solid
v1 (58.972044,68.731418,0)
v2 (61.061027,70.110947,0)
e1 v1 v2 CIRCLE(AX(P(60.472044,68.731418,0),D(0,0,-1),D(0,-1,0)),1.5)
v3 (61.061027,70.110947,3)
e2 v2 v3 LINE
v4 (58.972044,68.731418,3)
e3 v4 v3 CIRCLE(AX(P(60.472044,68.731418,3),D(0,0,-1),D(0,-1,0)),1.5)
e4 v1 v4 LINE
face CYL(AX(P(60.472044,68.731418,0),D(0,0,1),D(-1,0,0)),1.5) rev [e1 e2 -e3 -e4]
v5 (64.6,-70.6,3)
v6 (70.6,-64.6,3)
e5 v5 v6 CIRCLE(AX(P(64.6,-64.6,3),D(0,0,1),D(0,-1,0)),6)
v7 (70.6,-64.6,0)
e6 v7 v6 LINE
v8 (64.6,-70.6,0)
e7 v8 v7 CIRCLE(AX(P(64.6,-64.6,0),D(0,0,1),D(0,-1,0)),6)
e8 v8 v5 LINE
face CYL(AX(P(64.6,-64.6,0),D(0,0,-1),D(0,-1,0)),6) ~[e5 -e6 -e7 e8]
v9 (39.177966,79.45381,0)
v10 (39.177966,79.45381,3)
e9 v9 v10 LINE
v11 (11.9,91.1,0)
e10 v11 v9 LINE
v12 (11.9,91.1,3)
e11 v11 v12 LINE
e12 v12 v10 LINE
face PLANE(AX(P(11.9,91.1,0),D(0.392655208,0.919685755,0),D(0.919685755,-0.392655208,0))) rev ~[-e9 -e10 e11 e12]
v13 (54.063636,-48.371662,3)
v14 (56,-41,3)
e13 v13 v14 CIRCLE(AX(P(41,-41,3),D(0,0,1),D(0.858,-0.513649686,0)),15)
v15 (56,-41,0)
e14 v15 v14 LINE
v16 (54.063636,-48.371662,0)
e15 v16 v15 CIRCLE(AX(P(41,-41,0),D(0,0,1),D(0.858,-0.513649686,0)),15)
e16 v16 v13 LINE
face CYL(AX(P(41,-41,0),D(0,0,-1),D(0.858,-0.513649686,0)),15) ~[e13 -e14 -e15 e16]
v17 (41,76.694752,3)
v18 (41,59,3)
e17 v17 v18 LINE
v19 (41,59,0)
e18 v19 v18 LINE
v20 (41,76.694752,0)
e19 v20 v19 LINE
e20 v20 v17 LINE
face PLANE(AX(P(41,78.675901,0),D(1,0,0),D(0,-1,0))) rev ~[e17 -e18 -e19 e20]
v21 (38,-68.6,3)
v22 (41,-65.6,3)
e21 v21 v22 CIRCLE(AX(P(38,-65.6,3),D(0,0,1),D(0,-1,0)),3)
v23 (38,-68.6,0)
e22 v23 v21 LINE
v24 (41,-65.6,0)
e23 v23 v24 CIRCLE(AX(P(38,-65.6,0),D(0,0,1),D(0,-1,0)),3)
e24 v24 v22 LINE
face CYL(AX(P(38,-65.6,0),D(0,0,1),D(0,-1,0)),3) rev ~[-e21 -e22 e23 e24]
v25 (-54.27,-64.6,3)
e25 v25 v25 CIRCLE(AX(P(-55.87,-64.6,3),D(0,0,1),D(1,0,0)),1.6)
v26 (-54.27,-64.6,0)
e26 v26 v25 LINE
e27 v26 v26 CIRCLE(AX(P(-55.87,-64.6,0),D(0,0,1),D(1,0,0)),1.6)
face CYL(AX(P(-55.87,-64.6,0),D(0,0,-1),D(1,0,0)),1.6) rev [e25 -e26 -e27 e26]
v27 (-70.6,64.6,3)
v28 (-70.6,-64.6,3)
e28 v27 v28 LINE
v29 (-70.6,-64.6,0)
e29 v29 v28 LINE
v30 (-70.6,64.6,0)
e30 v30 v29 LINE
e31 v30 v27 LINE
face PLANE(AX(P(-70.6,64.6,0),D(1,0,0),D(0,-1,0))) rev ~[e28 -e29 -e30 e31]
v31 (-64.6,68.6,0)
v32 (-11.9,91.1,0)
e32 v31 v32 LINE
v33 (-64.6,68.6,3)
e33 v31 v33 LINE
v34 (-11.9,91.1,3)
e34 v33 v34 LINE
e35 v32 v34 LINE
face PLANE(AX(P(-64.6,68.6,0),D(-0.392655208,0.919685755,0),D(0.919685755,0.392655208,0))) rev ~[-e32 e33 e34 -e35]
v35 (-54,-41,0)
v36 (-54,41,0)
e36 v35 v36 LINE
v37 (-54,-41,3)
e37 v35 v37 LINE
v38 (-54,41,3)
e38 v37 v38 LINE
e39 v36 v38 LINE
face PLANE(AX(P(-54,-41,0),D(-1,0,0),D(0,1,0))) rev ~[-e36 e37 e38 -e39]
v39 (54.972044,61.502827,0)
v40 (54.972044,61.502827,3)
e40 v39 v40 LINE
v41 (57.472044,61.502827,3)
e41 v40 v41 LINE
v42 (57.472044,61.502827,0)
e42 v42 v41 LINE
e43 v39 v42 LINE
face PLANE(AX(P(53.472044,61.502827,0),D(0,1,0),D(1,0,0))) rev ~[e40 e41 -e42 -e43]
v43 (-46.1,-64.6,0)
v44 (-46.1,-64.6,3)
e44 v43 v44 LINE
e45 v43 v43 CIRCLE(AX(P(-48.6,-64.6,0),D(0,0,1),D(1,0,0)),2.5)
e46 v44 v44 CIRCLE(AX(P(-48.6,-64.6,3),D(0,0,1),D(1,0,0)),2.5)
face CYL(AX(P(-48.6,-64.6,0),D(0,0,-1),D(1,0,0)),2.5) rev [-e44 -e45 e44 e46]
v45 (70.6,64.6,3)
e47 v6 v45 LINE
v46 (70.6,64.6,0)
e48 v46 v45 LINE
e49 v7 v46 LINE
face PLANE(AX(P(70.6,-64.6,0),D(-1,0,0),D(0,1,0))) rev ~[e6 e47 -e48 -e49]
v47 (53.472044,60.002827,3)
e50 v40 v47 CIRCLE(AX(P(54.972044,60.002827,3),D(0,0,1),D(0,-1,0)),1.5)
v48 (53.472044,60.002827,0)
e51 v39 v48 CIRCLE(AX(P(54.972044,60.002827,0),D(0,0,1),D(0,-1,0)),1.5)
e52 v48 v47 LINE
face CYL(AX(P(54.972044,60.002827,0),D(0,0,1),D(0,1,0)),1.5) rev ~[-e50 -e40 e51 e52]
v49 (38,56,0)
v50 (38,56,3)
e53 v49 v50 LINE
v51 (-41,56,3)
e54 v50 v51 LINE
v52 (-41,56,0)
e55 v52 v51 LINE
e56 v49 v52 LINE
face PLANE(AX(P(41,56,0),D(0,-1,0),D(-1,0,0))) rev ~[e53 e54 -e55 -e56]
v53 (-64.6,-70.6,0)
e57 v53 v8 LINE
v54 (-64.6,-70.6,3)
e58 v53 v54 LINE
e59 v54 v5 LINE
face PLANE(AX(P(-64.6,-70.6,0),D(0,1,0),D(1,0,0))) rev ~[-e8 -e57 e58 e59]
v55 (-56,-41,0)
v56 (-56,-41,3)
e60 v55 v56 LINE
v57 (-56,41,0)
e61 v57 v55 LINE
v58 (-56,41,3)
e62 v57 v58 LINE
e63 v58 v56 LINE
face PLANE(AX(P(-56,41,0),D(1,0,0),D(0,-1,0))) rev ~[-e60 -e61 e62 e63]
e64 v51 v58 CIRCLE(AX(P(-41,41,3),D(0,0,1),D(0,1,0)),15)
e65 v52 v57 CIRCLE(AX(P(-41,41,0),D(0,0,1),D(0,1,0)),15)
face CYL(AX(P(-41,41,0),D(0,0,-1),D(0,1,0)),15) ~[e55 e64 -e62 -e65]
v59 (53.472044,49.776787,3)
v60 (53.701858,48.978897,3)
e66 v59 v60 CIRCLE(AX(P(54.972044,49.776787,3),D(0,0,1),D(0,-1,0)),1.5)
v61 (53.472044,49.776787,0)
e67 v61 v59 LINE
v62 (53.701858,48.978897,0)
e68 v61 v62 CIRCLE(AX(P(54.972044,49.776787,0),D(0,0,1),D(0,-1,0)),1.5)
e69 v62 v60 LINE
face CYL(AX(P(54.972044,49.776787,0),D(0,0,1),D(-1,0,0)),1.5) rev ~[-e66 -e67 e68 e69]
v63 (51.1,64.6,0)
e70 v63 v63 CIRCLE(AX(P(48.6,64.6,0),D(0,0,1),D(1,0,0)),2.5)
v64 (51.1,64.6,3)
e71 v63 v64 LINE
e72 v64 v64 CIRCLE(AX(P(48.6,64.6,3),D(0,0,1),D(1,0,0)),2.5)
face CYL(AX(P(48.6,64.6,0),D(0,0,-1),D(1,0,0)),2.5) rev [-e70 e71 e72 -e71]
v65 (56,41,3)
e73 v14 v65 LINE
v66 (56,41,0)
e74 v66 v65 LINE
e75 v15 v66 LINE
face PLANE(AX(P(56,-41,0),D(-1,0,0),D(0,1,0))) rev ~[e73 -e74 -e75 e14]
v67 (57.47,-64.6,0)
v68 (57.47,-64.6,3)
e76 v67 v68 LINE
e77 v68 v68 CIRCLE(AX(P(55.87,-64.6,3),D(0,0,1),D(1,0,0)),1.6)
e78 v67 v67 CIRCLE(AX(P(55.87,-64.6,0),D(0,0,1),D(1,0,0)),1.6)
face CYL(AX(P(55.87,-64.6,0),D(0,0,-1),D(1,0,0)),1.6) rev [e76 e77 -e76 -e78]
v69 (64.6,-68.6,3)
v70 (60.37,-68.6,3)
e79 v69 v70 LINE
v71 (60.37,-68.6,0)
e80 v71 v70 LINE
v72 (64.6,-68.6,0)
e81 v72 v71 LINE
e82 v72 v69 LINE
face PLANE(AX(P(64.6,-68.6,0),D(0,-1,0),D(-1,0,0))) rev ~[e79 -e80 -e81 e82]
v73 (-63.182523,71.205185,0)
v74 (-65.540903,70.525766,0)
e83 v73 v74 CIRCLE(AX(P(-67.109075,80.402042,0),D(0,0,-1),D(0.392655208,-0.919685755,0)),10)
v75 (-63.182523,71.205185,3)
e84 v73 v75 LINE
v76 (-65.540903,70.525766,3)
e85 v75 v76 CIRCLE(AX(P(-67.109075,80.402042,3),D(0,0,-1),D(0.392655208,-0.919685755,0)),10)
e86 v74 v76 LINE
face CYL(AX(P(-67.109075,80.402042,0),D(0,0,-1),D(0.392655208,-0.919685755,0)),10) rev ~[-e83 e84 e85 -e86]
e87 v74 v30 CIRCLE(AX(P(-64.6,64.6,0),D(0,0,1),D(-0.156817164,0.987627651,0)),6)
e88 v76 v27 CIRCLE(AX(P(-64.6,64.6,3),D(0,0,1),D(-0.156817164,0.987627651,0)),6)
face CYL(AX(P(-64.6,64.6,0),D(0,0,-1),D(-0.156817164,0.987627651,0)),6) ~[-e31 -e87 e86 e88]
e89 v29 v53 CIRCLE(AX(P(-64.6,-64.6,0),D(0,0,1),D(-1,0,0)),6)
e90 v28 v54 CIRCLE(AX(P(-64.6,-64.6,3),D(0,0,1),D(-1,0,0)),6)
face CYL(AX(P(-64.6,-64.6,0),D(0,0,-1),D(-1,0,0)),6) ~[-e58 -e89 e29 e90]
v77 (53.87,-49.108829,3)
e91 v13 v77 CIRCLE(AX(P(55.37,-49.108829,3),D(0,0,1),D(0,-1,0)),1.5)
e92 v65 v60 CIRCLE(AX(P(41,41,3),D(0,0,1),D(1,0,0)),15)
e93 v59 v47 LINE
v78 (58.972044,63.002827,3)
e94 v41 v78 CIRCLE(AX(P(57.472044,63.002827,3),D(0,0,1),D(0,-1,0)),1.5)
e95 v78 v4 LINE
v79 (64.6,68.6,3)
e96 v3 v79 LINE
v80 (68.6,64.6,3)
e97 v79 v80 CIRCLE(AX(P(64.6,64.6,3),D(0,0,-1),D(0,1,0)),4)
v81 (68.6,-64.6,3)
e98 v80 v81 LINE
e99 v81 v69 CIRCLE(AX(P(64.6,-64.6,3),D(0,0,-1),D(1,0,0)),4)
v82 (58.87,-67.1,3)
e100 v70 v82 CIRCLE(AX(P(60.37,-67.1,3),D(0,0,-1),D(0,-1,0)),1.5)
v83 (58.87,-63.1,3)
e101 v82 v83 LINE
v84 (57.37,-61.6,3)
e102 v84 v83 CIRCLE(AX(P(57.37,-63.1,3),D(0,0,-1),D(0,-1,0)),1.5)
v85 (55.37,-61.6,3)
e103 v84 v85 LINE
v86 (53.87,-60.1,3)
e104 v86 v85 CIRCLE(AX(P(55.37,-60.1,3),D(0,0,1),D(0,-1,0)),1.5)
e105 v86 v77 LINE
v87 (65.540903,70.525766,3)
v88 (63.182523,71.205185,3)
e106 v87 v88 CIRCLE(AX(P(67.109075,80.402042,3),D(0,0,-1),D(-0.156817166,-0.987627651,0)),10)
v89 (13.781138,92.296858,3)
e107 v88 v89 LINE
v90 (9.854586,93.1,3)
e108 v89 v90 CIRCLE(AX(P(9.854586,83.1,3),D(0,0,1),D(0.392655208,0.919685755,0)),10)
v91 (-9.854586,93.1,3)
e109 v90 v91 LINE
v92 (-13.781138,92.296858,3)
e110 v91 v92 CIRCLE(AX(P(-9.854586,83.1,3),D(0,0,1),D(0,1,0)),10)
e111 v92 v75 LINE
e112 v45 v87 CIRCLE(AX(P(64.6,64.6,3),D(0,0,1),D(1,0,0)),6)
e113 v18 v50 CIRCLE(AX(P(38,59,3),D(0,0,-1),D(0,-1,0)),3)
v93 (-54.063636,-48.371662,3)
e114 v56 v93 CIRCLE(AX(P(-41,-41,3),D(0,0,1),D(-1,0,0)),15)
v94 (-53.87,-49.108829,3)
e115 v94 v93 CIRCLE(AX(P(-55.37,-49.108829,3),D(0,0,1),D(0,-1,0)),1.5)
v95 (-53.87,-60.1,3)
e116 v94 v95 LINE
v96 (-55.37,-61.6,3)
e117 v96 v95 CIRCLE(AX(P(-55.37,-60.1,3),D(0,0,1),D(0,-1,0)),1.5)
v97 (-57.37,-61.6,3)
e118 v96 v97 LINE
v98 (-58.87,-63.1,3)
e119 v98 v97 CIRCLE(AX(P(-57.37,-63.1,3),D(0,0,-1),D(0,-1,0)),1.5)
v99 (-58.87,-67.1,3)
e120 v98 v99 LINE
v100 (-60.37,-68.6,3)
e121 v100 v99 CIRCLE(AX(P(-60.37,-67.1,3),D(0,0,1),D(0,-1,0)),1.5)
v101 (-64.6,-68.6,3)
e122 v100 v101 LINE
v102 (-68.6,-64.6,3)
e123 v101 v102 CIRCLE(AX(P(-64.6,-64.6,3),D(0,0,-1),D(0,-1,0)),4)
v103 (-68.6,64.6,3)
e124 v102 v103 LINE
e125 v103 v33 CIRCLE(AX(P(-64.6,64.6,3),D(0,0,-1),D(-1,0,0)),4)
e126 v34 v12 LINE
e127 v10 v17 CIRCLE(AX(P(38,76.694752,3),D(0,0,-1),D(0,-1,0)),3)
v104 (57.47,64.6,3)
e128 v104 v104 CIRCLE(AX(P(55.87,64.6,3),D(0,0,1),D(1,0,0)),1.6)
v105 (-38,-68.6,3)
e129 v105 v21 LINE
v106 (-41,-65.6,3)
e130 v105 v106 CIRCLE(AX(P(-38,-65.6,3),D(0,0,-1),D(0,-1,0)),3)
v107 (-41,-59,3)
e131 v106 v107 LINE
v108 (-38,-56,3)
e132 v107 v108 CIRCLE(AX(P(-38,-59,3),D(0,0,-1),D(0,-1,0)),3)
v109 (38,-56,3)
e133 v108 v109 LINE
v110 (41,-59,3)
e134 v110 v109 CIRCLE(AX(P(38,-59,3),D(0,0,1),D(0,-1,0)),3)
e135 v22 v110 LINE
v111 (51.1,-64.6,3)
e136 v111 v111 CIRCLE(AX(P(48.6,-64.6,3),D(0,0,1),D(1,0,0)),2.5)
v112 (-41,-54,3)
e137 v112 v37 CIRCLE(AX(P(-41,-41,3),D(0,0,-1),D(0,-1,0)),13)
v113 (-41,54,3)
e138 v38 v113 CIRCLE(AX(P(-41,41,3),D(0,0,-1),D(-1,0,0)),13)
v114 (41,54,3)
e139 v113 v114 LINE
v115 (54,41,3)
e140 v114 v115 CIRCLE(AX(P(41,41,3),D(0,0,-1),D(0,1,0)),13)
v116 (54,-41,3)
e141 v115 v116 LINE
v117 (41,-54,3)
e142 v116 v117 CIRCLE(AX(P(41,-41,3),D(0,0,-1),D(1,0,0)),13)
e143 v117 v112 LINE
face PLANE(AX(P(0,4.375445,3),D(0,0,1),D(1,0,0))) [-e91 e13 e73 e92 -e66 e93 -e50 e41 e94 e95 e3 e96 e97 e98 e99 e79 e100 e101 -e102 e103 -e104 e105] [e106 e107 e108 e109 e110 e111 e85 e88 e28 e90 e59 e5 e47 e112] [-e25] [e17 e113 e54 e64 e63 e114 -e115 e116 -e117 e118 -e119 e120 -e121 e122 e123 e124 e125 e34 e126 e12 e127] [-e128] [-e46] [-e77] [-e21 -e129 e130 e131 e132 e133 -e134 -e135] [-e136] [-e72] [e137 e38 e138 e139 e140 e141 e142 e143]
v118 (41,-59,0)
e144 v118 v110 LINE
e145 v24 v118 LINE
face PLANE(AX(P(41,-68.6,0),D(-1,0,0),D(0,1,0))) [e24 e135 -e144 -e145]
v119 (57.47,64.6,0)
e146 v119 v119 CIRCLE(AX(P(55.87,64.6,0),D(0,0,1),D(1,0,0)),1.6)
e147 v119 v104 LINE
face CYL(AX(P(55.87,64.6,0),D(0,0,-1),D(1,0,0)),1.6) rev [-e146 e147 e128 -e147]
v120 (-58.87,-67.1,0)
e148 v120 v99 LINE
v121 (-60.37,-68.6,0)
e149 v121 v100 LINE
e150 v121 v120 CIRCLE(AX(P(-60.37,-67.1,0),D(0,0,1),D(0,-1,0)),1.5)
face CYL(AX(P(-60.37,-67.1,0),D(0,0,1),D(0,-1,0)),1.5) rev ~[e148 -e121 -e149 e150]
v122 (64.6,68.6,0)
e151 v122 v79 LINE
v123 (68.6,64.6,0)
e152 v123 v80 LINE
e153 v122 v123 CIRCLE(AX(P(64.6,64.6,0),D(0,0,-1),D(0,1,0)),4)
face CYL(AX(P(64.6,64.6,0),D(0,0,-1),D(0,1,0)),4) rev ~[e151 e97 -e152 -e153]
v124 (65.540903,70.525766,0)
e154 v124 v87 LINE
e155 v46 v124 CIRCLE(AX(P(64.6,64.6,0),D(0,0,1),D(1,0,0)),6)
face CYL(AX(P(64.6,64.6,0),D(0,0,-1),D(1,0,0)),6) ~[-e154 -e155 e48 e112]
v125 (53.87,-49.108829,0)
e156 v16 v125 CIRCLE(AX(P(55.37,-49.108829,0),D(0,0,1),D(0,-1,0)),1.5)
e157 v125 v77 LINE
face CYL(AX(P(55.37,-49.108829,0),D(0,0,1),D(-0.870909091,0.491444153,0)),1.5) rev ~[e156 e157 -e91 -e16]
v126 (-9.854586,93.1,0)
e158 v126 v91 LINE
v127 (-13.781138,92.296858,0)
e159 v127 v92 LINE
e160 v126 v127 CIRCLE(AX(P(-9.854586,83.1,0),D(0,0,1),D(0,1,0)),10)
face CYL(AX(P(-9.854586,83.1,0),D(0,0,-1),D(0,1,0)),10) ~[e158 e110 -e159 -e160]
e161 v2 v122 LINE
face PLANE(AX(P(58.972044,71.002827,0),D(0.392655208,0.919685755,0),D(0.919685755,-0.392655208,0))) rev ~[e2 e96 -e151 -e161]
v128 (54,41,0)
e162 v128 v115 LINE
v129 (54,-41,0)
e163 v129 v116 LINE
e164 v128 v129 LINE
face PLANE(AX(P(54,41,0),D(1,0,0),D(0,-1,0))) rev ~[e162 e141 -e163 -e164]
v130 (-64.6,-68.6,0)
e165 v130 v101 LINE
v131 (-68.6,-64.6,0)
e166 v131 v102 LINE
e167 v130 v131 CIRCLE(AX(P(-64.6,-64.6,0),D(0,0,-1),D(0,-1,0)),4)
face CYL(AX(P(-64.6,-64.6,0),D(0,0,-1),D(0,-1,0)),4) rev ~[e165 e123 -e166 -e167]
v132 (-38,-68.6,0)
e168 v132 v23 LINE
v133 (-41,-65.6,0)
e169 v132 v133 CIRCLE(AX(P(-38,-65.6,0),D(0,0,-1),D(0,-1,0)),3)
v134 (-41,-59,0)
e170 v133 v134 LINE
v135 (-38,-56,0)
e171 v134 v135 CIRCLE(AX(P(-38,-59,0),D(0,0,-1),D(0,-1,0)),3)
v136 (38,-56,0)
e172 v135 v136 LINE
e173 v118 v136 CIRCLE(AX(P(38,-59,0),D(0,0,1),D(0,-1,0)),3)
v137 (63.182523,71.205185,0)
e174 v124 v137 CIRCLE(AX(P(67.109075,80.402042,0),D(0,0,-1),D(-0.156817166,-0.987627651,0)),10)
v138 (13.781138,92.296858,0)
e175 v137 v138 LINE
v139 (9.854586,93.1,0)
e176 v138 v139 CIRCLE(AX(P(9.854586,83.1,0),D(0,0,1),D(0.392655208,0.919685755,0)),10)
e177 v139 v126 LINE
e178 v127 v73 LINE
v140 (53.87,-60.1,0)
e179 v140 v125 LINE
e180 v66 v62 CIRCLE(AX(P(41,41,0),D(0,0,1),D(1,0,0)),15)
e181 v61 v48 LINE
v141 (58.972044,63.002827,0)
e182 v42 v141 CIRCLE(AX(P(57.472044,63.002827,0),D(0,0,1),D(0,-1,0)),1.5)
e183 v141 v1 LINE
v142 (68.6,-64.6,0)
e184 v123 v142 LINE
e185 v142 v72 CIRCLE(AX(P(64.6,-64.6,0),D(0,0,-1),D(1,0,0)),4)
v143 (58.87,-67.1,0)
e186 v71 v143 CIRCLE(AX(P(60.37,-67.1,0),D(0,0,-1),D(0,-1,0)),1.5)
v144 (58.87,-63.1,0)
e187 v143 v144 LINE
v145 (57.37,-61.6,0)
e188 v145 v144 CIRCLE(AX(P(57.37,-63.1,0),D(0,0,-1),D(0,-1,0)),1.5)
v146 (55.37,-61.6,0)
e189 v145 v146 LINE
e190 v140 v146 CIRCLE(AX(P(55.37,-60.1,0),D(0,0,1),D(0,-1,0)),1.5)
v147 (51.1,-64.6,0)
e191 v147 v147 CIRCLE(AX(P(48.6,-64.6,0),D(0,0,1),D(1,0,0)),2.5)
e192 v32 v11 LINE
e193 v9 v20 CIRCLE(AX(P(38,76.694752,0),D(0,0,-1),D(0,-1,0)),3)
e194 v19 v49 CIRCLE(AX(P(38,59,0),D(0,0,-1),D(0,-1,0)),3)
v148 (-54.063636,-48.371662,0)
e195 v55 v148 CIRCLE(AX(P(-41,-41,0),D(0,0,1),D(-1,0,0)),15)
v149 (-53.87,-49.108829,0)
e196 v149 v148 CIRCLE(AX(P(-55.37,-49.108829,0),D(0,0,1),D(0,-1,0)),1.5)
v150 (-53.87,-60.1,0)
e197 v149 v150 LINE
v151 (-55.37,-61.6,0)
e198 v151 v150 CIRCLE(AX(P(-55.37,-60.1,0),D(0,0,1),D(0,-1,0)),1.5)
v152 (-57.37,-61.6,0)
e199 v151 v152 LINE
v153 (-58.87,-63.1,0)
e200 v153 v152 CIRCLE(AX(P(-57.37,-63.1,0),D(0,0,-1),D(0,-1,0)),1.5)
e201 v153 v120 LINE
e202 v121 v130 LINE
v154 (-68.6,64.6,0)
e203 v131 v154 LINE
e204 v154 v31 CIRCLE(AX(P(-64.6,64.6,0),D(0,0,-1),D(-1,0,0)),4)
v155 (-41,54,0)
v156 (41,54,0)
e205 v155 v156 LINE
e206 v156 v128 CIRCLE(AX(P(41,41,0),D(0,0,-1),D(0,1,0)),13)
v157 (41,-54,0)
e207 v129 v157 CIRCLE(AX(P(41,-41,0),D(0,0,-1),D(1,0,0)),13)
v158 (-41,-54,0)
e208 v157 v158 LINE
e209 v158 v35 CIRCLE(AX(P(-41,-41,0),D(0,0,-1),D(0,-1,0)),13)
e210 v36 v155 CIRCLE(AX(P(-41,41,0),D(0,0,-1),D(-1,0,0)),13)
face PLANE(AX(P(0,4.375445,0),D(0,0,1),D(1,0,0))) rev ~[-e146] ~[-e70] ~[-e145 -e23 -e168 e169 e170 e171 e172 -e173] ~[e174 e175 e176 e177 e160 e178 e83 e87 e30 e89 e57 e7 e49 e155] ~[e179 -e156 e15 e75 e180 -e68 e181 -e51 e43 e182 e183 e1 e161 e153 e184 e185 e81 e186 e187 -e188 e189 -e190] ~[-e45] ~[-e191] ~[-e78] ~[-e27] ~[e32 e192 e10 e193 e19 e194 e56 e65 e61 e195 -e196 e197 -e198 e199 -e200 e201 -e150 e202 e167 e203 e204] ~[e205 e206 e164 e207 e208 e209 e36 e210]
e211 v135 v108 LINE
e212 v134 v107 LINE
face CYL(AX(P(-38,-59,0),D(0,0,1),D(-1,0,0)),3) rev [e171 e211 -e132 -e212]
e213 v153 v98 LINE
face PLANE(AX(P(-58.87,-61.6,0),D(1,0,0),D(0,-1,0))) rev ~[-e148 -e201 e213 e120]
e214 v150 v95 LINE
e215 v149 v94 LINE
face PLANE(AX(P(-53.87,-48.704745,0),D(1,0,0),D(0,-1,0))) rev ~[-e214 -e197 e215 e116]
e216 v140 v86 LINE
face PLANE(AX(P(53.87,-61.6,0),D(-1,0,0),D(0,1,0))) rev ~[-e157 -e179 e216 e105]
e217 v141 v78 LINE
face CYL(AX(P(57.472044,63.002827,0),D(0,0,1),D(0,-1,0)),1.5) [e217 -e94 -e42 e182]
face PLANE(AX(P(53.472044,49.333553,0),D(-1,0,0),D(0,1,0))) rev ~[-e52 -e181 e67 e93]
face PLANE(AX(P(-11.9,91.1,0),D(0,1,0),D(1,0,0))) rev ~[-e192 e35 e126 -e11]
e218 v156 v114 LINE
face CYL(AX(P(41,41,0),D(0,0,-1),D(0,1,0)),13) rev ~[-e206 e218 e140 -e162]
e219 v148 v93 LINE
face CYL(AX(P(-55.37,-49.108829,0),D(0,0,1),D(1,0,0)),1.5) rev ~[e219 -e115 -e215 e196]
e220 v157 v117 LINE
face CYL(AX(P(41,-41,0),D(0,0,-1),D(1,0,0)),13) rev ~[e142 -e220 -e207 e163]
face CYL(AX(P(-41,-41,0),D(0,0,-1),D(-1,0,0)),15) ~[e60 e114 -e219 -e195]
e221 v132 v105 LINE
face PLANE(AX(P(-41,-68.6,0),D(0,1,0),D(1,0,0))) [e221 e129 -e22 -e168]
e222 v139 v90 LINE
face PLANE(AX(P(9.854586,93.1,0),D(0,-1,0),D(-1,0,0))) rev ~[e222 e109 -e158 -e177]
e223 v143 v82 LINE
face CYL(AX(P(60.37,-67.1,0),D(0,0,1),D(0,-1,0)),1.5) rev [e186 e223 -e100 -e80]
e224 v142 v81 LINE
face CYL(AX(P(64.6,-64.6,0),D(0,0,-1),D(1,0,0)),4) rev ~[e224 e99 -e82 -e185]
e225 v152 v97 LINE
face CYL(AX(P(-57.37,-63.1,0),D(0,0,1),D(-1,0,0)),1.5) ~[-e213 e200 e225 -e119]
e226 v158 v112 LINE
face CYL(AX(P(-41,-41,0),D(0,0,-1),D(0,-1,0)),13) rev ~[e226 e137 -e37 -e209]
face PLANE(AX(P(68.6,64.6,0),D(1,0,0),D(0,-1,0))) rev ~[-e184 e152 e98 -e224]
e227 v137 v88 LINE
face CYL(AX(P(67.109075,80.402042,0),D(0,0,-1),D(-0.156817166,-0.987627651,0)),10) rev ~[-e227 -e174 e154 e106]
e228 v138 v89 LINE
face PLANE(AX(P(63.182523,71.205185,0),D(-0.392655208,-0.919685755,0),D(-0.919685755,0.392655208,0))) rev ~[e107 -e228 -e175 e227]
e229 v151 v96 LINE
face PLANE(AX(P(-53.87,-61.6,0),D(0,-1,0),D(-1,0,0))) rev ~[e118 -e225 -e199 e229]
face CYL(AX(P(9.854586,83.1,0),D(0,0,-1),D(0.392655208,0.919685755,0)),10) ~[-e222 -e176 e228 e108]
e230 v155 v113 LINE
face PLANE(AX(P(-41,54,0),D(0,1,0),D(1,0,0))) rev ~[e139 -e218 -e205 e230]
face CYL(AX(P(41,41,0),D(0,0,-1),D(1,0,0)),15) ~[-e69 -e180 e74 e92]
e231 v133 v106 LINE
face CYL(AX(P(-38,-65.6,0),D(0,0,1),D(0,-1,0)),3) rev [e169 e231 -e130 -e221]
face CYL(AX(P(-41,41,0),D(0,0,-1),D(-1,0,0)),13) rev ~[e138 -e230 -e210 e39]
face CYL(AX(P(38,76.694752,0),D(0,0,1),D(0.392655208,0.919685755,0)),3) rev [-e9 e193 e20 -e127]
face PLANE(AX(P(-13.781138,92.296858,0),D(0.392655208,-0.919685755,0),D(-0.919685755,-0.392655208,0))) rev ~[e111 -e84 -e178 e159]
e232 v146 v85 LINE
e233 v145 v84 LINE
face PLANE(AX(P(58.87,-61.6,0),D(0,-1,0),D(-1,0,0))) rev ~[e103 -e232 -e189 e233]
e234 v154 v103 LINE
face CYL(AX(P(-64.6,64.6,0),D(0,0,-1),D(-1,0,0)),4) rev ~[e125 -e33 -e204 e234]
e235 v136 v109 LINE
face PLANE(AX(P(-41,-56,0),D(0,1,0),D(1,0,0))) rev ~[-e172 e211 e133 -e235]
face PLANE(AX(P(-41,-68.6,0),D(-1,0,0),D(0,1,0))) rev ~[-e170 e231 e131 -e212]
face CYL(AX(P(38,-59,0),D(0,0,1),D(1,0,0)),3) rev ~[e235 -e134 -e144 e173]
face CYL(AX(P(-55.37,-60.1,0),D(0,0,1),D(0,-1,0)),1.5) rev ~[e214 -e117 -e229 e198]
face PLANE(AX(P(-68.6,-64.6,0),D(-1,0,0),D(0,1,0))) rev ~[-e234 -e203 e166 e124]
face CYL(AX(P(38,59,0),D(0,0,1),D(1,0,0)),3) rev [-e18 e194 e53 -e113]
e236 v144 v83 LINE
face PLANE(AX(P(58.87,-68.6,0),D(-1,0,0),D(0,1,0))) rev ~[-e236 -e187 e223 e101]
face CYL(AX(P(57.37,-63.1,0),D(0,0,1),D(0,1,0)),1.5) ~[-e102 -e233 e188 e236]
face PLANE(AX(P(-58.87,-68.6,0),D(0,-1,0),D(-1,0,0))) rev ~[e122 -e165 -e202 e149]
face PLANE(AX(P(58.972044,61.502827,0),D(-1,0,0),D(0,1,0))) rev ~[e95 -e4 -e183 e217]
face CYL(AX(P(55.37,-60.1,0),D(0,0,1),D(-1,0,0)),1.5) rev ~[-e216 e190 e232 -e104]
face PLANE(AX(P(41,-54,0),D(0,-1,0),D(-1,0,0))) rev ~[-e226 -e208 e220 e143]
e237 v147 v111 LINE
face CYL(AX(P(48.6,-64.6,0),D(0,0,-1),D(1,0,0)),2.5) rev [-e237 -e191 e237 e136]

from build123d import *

# Parameters (mm, degrees)
SKETCH2_R           = 1.6
SKETCH2_R_2         = 2.5
SKETCH2_W           = 82
SKETCH2_H           = 12.6
BOSS_EXTRUDE1_DEPTH = 3
FILLET2_R           = 1.5
FILLET3_R           = 3


with BuildPart() as part:
    # Sketch2 → Boss-Extrude1 (new body)
    # profile 1 of 2: a face of its own
    with BuildSketch(Plane.XY):
        with BuildLine():
            ThreePointArc((-65.540902989, 70.525765905), (-69.163190657, 68.495804286), (-70.6, 64.6))
            Line((-70.6, 64.6), (-70.6, -64.6))
            ThreePointArc((-70.6, -64.6), (-68.842640687, -68.842640687), (-64.6, -70.6))
            Line((-64.6, -70.6), (64.6, -70.6))
            ThreePointArc((64.6, -70.6), (68.842640687, -68.842640687), (70.6, -64.6))
            Line((70.6, -64.6), (70.6, 64.6))
            ThreePointArc((70.6, 64.6), (69.163190657, 68.495804286), (65.540902989, 70.525765905))
            ThreePointArc((65.540902989, 70.525765905), (64.340790015, 70.792848887), (63.182522555, 71.205184867))
            Line((63.182522555, 71.205184867), (13.781138102, 92.296857547))
            ThreePointArc((13.781138102, 92.296857547), (11.858510235, 92.897157125), (9.854586018, 93.1))
            Line((9.854586018, 93.1), (-9.854586018, 93.1))
            ThreePointArc((-9.854586018, 93.1), (-11.858510235, 92.897157125), (-13.781138102, 92.296857547))
            Line((-13.781138102, 92.296857547), (-63.182522555, 71.205184867))
            ThreePointArc((-63.182522555, 71.205184867), (-64.340790015, 70.792848887), (-65.540902989, 70.525765905))
        make_face()
        with Locations((-55.87, -64.6)):
            Circle(SKETCH2_R, mode=Mode.SUBTRACT)
        with Locations((-48.6, -64.6)):
            Circle(SKETCH2_R_2, mode=Mode.SUBTRACT)
        with BuildLine():
            Line((-11.9, 91.1), (-6, 91.1))
            Line((-6, 91.1), (6, 91.1))
            Line((6, 91.1), (11.9, 91.1))
            Line((11.9, 91.1), (41, 78.675901328))
            Line((41, 78.675901328), (41, 56))
            Line((41, 56), (-41, 56))
            ThreePointArc((-41, 56), (-51.606601718, 51.606601718), (-56, 41))
            Line((-56, 41), (-56, -41))
            ThreePointArc((-56, -41), (-55.457696912, -44.996873778), (-53.87, -48.704745291))
            Line((-53.87, -48.704745291), (-53.87, -61.6))
            Line((-53.87, -61.6), (-58.87, -61.6))
            Line((-58.87, -61.6), (-58.87, -68.6))
            Line((-58.87, -68.6), (-64.6, -68.6))
            ThreePointArc((-64.6, -68.6), (-67.428427125, -67.428427125), (-68.6, -64.6))
            Line((-68.6, -64.6), (-68.6, 64.6))
            ThreePointArc((-68.6, 64.6), (-67.428427125, 67.428427125), (-64.6, 68.6))
            Line((-64.6, 68.6), (-11.9, 91.1))
        make_face(mode=Mode.SUBTRACT)
        with Locations((0, -62.3)):
            Rectangle(SKETCH2_W, SKETCH2_H, mode=Mode.SUBTRACT)
        with Locations((48.6, -64.6)):
            Circle(SKETCH2_R_2, mode=Mode.SUBTRACT)
        with Locations((55.87, -64.6)):
            Circle(SKETCH2_R, mode=Mode.SUBTRACT)
        with BuildLine():
            Line((41, -54), (-41, -54))
            ThreePointArc((-41, -54), (-50.192388155, -50.192388155), (-54, -41))
            Line((-54, -41), (-54, 41))
            ThreePointArc((-54, 41), (-50.192388155, 50.192388155), (-41, 54))
            Line((-41, 54), (41, 54))
            ThreePointArc((41, 54), (50.192388155, 50.192388155), (54, 41))
            Line((54, 41), (54, -41))
            ThreePointArc((54, -41), (50.192388155, -50.192388155), (41, -54))
        make_face(mode=Mode.SUBTRACT)
        with BuildLine():
            Line((58.972044185, 61.502827435), (58.972044185, 71.002827435))
            Line((58.972044185, 71.002827435), (64.6, 68.6))
            ThreePointArc((64.6, 68.6), (67.428427125, 67.428427125), (68.6, 64.6))
            Line((68.6, 64.6), (68.6, -64.6))
            ThreePointArc((68.6, -64.6), (67.428427125, -67.428427125), (64.6, -68.6))
            Line((64.6, -68.6), (58.87, -68.6))
            Line((58.87, -68.6), (58.87, -61.6))
            Line((58.87, -61.6), (53.87, -61.6))
            Line((53.87, -61.6), (53.87, -48.704745291))
            ThreePointArc((53.87, -48.704745291), (55.457696912, -44.996873778), (56, -41))
            Line((56, -41), (56, 41))
            ThreePointArc((56, 41), (55.354105036, 45.354270159), (53.472044185, 49.333553495))
            Line((53.472044185, 49.333553495), (53.472044185, 61.502827435))
            Line((53.472044185, 61.502827435), (58.972044185, 61.502827435))
        make_face(mode=Mode.SUBTRACT)
        with Locations((48.6, 64.6)):
            Circle(SKETCH2_R_2, mode=Mode.SUBTRACT)
        with Locations((55.87, 64.6)):
            Circle(SKETCH2_R, mode=Mode.SUBTRACT)
    # profile 2 of 2: a face of its own
    with BuildSketch(Plane.XY):
        with BuildLine():
            ThreePointArc((-65.540902989, 70.525765905), (-69.163190657, 68.495804286), (-70.6, 64.6))
            Line((-70.6, 64.6), (-70.6, -64.6))
            ThreePointArc((-70.6, -64.6), (-68.842640687, -68.842640687), (-64.6, -70.6))
            Line((-64.6, -70.6), (64.6, -70.6))
            ThreePointArc((64.6, -70.6), (68.842640687, -68.842640687), (70.6, -64.6))
            Line((70.6, -64.6), (70.6, 64.6))
            ThreePointArc((70.6, 64.6), (69.163190657, 68.495804286), (65.540902989, 70.525765905))
            ThreePointArc((65.540902989, 70.525765905), (64.340790015, 70.792848887), (63.182522555, 71.205184867))
            Line((63.182522555, 71.205184867), (13.781138102, 92.296857547))
            ThreePointArc((13.781138102, 92.296857547), (11.858510235, 92.897157125), (9.854586018, 93.1))
            Line((9.854586018, 93.1), (-9.854586018, 93.1))
            ThreePointArc((-9.854586018, 93.1), (-11.858510235, 92.897157125), (-13.781138102, 92.296857547))
            Line((-13.781138102, 92.296857547), (-63.182522555, 71.205184867))
            ThreePointArc((-63.182522555, 71.205184867), (-64.340790015, 70.792848887), (-65.540902989, 70.525765905))
        make_face()
        with Locations((-55.87, -64.6)):
            Circle(SKETCH2_R, mode=Mode.SUBTRACT)
        with Locations((-48.6, -64.6)):
            Circle(SKETCH2_R_2, mode=Mode.SUBTRACT)
        with BuildLine():
            Line((-11.9, 91.1), (-6, 91.1))
            Line((-6, 91.1), (6, 91.1))
            Line((6, 91.1), (11.9, 91.1))
            Line((11.9, 91.1), (41, 78.675901328))
            Line((41, 78.675901328), (41, 56))
            Line((41, 56), (-41, 56))
            ThreePointArc((-41, 56), (-51.606601718, 51.606601718), (-56, 41))
            Line((-56, 41), (-56, -41))
            ThreePointArc((-56, -41), (-55.457696912, -44.996873778), (-53.87, -48.704745291))
            Line((-53.87, -48.704745291), (-53.87, -61.6))
            Line((-53.87, -61.6), (-58.87, -61.6))
            Line((-58.87, -61.6), (-58.87, -68.6))
            Line((-58.87, -68.6), (-64.6, -68.6))
            ThreePointArc((-64.6, -68.6), (-67.428427125, -67.428427125), (-68.6, -64.6))
            Line((-68.6, -64.6), (-68.6, 64.6))
            ThreePointArc((-68.6, 64.6), (-67.428427125, 67.428427125), (-64.6, 68.6))
            Line((-64.6, 68.6), (-11.9, 91.1))
        make_face(mode=Mode.SUBTRACT)
        with Locations((0, -62.3)):
            Rectangle(SKETCH2_W, SKETCH2_H, mode=Mode.SUBTRACT)
        with Locations((48.6, -64.6)):
            Circle(SKETCH2_R_2, mode=Mode.SUBTRACT)
        with Locations((55.87, -64.6)):
            Circle(SKETCH2_R, mode=Mode.SUBTRACT)
        with BuildLine():
            Line((41, -54), (-41, -54))
            ThreePointArc((-41, -54), (-50.192388155, -50.192388155), (-54, -41))
            Line((-54, -41), (-54, 41))
            ThreePointArc((-54, 41), (-50.192388155, 50.192388155), (-41, 54))
            Line((-41, 54), (41, 54))
            ThreePointArc((41, 54), (50.192388155, 50.192388155), (54, 41))
            Line((54, 41), (54, -41))
            ThreePointArc((54, -41), (50.192388155, -50.192388155), (41, -54))
        make_face(mode=Mode.SUBTRACT)
        with BuildLine():
            Line((58.972044185, 61.502827435), (58.972044185, 71.002827435))
            Line((58.972044185, 71.002827435), (64.6, 68.6))
            ThreePointArc((64.6, 68.6), (67.428427125, 67.428427125), (68.6, 64.6))
            Line((68.6, 64.6), (68.6, -64.6))
            ThreePointArc((68.6, -64.6), (67.428427125, -67.428427125), (64.6, -68.6))
            Line((64.6, -68.6), (58.87, -68.6))
            Line((58.87, -68.6), (58.87, -61.6))
            Line((58.87, -61.6), (53.87, -61.6))
            Line((53.87, -61.6), (53.87, -48.704745291))
            ThreePointArc((53.87, -48.704745291), (55.457696912, -44.996873778), (56, -41))
            Line((56, -41), (56, 41))
            ThreePointArc((56, 41), (55.354105036, 45.354270159), (53.472044185, 49.333553495))
            Line((53.472044185, 49.333553495), (53.472044185, 61.502827435))
            Line((53.472044185, 61.502827435), (58.972044185, 61.502827435))
        make_face(mode=Mode.SUBTRACT)
        with Locations((48.6, 64.6)):
            Circle(SKETCH2_R_2, mode=Mode.SUBTRACT)
        with Locations((55.87, 64.6)):
            Circle(SKETCH2_R, mode=Mode.SUBTRACT)
    extrude(amount=BOSS_EXTRUDE1_DEPTH)

    # Fillet2
    fillet2_edges = [part.edges().sort_by_distance(p)[0] for p in [
        (58.972044185, 71.002827435, 1.5),
        (58.972044185, 61.502827435, 1.5),
        (53.472044185, 61.502827435, 1.5),
        (53.472044185, 49.333553495, 1.5),
        (53.87, -48.704745291, 1.5),
        (53.87, -61.6, 1.5),
        (58.87, -61.6, 1.5),
        (58.87, -68.6, 1.5),
        (-58.87, -68.6, 1.5),
        (-58.87, -61.6, 1.5),
        (-53.87, -61.6, 1.5),
        (-53.87, -48.704745291, 1.5),
    ]]
    fillet(fillet2_edges, radius=FILLET2_R)

    # Fillet3
    fillet3_edges = [part.edges().sort_by_distance(p)[0] for p in [
        (-41, -68.6, 1.5),
        (41, -68.6, 1.5),
        (41, -56, 1.5),
        (-41, -56, 1.5),
        (41, 56, 1.5),
        (41, 78.675901328, 1.5),
    ]]
    fillet(fillet3_edges, radius=FILLET3_R)


solid = part.part
